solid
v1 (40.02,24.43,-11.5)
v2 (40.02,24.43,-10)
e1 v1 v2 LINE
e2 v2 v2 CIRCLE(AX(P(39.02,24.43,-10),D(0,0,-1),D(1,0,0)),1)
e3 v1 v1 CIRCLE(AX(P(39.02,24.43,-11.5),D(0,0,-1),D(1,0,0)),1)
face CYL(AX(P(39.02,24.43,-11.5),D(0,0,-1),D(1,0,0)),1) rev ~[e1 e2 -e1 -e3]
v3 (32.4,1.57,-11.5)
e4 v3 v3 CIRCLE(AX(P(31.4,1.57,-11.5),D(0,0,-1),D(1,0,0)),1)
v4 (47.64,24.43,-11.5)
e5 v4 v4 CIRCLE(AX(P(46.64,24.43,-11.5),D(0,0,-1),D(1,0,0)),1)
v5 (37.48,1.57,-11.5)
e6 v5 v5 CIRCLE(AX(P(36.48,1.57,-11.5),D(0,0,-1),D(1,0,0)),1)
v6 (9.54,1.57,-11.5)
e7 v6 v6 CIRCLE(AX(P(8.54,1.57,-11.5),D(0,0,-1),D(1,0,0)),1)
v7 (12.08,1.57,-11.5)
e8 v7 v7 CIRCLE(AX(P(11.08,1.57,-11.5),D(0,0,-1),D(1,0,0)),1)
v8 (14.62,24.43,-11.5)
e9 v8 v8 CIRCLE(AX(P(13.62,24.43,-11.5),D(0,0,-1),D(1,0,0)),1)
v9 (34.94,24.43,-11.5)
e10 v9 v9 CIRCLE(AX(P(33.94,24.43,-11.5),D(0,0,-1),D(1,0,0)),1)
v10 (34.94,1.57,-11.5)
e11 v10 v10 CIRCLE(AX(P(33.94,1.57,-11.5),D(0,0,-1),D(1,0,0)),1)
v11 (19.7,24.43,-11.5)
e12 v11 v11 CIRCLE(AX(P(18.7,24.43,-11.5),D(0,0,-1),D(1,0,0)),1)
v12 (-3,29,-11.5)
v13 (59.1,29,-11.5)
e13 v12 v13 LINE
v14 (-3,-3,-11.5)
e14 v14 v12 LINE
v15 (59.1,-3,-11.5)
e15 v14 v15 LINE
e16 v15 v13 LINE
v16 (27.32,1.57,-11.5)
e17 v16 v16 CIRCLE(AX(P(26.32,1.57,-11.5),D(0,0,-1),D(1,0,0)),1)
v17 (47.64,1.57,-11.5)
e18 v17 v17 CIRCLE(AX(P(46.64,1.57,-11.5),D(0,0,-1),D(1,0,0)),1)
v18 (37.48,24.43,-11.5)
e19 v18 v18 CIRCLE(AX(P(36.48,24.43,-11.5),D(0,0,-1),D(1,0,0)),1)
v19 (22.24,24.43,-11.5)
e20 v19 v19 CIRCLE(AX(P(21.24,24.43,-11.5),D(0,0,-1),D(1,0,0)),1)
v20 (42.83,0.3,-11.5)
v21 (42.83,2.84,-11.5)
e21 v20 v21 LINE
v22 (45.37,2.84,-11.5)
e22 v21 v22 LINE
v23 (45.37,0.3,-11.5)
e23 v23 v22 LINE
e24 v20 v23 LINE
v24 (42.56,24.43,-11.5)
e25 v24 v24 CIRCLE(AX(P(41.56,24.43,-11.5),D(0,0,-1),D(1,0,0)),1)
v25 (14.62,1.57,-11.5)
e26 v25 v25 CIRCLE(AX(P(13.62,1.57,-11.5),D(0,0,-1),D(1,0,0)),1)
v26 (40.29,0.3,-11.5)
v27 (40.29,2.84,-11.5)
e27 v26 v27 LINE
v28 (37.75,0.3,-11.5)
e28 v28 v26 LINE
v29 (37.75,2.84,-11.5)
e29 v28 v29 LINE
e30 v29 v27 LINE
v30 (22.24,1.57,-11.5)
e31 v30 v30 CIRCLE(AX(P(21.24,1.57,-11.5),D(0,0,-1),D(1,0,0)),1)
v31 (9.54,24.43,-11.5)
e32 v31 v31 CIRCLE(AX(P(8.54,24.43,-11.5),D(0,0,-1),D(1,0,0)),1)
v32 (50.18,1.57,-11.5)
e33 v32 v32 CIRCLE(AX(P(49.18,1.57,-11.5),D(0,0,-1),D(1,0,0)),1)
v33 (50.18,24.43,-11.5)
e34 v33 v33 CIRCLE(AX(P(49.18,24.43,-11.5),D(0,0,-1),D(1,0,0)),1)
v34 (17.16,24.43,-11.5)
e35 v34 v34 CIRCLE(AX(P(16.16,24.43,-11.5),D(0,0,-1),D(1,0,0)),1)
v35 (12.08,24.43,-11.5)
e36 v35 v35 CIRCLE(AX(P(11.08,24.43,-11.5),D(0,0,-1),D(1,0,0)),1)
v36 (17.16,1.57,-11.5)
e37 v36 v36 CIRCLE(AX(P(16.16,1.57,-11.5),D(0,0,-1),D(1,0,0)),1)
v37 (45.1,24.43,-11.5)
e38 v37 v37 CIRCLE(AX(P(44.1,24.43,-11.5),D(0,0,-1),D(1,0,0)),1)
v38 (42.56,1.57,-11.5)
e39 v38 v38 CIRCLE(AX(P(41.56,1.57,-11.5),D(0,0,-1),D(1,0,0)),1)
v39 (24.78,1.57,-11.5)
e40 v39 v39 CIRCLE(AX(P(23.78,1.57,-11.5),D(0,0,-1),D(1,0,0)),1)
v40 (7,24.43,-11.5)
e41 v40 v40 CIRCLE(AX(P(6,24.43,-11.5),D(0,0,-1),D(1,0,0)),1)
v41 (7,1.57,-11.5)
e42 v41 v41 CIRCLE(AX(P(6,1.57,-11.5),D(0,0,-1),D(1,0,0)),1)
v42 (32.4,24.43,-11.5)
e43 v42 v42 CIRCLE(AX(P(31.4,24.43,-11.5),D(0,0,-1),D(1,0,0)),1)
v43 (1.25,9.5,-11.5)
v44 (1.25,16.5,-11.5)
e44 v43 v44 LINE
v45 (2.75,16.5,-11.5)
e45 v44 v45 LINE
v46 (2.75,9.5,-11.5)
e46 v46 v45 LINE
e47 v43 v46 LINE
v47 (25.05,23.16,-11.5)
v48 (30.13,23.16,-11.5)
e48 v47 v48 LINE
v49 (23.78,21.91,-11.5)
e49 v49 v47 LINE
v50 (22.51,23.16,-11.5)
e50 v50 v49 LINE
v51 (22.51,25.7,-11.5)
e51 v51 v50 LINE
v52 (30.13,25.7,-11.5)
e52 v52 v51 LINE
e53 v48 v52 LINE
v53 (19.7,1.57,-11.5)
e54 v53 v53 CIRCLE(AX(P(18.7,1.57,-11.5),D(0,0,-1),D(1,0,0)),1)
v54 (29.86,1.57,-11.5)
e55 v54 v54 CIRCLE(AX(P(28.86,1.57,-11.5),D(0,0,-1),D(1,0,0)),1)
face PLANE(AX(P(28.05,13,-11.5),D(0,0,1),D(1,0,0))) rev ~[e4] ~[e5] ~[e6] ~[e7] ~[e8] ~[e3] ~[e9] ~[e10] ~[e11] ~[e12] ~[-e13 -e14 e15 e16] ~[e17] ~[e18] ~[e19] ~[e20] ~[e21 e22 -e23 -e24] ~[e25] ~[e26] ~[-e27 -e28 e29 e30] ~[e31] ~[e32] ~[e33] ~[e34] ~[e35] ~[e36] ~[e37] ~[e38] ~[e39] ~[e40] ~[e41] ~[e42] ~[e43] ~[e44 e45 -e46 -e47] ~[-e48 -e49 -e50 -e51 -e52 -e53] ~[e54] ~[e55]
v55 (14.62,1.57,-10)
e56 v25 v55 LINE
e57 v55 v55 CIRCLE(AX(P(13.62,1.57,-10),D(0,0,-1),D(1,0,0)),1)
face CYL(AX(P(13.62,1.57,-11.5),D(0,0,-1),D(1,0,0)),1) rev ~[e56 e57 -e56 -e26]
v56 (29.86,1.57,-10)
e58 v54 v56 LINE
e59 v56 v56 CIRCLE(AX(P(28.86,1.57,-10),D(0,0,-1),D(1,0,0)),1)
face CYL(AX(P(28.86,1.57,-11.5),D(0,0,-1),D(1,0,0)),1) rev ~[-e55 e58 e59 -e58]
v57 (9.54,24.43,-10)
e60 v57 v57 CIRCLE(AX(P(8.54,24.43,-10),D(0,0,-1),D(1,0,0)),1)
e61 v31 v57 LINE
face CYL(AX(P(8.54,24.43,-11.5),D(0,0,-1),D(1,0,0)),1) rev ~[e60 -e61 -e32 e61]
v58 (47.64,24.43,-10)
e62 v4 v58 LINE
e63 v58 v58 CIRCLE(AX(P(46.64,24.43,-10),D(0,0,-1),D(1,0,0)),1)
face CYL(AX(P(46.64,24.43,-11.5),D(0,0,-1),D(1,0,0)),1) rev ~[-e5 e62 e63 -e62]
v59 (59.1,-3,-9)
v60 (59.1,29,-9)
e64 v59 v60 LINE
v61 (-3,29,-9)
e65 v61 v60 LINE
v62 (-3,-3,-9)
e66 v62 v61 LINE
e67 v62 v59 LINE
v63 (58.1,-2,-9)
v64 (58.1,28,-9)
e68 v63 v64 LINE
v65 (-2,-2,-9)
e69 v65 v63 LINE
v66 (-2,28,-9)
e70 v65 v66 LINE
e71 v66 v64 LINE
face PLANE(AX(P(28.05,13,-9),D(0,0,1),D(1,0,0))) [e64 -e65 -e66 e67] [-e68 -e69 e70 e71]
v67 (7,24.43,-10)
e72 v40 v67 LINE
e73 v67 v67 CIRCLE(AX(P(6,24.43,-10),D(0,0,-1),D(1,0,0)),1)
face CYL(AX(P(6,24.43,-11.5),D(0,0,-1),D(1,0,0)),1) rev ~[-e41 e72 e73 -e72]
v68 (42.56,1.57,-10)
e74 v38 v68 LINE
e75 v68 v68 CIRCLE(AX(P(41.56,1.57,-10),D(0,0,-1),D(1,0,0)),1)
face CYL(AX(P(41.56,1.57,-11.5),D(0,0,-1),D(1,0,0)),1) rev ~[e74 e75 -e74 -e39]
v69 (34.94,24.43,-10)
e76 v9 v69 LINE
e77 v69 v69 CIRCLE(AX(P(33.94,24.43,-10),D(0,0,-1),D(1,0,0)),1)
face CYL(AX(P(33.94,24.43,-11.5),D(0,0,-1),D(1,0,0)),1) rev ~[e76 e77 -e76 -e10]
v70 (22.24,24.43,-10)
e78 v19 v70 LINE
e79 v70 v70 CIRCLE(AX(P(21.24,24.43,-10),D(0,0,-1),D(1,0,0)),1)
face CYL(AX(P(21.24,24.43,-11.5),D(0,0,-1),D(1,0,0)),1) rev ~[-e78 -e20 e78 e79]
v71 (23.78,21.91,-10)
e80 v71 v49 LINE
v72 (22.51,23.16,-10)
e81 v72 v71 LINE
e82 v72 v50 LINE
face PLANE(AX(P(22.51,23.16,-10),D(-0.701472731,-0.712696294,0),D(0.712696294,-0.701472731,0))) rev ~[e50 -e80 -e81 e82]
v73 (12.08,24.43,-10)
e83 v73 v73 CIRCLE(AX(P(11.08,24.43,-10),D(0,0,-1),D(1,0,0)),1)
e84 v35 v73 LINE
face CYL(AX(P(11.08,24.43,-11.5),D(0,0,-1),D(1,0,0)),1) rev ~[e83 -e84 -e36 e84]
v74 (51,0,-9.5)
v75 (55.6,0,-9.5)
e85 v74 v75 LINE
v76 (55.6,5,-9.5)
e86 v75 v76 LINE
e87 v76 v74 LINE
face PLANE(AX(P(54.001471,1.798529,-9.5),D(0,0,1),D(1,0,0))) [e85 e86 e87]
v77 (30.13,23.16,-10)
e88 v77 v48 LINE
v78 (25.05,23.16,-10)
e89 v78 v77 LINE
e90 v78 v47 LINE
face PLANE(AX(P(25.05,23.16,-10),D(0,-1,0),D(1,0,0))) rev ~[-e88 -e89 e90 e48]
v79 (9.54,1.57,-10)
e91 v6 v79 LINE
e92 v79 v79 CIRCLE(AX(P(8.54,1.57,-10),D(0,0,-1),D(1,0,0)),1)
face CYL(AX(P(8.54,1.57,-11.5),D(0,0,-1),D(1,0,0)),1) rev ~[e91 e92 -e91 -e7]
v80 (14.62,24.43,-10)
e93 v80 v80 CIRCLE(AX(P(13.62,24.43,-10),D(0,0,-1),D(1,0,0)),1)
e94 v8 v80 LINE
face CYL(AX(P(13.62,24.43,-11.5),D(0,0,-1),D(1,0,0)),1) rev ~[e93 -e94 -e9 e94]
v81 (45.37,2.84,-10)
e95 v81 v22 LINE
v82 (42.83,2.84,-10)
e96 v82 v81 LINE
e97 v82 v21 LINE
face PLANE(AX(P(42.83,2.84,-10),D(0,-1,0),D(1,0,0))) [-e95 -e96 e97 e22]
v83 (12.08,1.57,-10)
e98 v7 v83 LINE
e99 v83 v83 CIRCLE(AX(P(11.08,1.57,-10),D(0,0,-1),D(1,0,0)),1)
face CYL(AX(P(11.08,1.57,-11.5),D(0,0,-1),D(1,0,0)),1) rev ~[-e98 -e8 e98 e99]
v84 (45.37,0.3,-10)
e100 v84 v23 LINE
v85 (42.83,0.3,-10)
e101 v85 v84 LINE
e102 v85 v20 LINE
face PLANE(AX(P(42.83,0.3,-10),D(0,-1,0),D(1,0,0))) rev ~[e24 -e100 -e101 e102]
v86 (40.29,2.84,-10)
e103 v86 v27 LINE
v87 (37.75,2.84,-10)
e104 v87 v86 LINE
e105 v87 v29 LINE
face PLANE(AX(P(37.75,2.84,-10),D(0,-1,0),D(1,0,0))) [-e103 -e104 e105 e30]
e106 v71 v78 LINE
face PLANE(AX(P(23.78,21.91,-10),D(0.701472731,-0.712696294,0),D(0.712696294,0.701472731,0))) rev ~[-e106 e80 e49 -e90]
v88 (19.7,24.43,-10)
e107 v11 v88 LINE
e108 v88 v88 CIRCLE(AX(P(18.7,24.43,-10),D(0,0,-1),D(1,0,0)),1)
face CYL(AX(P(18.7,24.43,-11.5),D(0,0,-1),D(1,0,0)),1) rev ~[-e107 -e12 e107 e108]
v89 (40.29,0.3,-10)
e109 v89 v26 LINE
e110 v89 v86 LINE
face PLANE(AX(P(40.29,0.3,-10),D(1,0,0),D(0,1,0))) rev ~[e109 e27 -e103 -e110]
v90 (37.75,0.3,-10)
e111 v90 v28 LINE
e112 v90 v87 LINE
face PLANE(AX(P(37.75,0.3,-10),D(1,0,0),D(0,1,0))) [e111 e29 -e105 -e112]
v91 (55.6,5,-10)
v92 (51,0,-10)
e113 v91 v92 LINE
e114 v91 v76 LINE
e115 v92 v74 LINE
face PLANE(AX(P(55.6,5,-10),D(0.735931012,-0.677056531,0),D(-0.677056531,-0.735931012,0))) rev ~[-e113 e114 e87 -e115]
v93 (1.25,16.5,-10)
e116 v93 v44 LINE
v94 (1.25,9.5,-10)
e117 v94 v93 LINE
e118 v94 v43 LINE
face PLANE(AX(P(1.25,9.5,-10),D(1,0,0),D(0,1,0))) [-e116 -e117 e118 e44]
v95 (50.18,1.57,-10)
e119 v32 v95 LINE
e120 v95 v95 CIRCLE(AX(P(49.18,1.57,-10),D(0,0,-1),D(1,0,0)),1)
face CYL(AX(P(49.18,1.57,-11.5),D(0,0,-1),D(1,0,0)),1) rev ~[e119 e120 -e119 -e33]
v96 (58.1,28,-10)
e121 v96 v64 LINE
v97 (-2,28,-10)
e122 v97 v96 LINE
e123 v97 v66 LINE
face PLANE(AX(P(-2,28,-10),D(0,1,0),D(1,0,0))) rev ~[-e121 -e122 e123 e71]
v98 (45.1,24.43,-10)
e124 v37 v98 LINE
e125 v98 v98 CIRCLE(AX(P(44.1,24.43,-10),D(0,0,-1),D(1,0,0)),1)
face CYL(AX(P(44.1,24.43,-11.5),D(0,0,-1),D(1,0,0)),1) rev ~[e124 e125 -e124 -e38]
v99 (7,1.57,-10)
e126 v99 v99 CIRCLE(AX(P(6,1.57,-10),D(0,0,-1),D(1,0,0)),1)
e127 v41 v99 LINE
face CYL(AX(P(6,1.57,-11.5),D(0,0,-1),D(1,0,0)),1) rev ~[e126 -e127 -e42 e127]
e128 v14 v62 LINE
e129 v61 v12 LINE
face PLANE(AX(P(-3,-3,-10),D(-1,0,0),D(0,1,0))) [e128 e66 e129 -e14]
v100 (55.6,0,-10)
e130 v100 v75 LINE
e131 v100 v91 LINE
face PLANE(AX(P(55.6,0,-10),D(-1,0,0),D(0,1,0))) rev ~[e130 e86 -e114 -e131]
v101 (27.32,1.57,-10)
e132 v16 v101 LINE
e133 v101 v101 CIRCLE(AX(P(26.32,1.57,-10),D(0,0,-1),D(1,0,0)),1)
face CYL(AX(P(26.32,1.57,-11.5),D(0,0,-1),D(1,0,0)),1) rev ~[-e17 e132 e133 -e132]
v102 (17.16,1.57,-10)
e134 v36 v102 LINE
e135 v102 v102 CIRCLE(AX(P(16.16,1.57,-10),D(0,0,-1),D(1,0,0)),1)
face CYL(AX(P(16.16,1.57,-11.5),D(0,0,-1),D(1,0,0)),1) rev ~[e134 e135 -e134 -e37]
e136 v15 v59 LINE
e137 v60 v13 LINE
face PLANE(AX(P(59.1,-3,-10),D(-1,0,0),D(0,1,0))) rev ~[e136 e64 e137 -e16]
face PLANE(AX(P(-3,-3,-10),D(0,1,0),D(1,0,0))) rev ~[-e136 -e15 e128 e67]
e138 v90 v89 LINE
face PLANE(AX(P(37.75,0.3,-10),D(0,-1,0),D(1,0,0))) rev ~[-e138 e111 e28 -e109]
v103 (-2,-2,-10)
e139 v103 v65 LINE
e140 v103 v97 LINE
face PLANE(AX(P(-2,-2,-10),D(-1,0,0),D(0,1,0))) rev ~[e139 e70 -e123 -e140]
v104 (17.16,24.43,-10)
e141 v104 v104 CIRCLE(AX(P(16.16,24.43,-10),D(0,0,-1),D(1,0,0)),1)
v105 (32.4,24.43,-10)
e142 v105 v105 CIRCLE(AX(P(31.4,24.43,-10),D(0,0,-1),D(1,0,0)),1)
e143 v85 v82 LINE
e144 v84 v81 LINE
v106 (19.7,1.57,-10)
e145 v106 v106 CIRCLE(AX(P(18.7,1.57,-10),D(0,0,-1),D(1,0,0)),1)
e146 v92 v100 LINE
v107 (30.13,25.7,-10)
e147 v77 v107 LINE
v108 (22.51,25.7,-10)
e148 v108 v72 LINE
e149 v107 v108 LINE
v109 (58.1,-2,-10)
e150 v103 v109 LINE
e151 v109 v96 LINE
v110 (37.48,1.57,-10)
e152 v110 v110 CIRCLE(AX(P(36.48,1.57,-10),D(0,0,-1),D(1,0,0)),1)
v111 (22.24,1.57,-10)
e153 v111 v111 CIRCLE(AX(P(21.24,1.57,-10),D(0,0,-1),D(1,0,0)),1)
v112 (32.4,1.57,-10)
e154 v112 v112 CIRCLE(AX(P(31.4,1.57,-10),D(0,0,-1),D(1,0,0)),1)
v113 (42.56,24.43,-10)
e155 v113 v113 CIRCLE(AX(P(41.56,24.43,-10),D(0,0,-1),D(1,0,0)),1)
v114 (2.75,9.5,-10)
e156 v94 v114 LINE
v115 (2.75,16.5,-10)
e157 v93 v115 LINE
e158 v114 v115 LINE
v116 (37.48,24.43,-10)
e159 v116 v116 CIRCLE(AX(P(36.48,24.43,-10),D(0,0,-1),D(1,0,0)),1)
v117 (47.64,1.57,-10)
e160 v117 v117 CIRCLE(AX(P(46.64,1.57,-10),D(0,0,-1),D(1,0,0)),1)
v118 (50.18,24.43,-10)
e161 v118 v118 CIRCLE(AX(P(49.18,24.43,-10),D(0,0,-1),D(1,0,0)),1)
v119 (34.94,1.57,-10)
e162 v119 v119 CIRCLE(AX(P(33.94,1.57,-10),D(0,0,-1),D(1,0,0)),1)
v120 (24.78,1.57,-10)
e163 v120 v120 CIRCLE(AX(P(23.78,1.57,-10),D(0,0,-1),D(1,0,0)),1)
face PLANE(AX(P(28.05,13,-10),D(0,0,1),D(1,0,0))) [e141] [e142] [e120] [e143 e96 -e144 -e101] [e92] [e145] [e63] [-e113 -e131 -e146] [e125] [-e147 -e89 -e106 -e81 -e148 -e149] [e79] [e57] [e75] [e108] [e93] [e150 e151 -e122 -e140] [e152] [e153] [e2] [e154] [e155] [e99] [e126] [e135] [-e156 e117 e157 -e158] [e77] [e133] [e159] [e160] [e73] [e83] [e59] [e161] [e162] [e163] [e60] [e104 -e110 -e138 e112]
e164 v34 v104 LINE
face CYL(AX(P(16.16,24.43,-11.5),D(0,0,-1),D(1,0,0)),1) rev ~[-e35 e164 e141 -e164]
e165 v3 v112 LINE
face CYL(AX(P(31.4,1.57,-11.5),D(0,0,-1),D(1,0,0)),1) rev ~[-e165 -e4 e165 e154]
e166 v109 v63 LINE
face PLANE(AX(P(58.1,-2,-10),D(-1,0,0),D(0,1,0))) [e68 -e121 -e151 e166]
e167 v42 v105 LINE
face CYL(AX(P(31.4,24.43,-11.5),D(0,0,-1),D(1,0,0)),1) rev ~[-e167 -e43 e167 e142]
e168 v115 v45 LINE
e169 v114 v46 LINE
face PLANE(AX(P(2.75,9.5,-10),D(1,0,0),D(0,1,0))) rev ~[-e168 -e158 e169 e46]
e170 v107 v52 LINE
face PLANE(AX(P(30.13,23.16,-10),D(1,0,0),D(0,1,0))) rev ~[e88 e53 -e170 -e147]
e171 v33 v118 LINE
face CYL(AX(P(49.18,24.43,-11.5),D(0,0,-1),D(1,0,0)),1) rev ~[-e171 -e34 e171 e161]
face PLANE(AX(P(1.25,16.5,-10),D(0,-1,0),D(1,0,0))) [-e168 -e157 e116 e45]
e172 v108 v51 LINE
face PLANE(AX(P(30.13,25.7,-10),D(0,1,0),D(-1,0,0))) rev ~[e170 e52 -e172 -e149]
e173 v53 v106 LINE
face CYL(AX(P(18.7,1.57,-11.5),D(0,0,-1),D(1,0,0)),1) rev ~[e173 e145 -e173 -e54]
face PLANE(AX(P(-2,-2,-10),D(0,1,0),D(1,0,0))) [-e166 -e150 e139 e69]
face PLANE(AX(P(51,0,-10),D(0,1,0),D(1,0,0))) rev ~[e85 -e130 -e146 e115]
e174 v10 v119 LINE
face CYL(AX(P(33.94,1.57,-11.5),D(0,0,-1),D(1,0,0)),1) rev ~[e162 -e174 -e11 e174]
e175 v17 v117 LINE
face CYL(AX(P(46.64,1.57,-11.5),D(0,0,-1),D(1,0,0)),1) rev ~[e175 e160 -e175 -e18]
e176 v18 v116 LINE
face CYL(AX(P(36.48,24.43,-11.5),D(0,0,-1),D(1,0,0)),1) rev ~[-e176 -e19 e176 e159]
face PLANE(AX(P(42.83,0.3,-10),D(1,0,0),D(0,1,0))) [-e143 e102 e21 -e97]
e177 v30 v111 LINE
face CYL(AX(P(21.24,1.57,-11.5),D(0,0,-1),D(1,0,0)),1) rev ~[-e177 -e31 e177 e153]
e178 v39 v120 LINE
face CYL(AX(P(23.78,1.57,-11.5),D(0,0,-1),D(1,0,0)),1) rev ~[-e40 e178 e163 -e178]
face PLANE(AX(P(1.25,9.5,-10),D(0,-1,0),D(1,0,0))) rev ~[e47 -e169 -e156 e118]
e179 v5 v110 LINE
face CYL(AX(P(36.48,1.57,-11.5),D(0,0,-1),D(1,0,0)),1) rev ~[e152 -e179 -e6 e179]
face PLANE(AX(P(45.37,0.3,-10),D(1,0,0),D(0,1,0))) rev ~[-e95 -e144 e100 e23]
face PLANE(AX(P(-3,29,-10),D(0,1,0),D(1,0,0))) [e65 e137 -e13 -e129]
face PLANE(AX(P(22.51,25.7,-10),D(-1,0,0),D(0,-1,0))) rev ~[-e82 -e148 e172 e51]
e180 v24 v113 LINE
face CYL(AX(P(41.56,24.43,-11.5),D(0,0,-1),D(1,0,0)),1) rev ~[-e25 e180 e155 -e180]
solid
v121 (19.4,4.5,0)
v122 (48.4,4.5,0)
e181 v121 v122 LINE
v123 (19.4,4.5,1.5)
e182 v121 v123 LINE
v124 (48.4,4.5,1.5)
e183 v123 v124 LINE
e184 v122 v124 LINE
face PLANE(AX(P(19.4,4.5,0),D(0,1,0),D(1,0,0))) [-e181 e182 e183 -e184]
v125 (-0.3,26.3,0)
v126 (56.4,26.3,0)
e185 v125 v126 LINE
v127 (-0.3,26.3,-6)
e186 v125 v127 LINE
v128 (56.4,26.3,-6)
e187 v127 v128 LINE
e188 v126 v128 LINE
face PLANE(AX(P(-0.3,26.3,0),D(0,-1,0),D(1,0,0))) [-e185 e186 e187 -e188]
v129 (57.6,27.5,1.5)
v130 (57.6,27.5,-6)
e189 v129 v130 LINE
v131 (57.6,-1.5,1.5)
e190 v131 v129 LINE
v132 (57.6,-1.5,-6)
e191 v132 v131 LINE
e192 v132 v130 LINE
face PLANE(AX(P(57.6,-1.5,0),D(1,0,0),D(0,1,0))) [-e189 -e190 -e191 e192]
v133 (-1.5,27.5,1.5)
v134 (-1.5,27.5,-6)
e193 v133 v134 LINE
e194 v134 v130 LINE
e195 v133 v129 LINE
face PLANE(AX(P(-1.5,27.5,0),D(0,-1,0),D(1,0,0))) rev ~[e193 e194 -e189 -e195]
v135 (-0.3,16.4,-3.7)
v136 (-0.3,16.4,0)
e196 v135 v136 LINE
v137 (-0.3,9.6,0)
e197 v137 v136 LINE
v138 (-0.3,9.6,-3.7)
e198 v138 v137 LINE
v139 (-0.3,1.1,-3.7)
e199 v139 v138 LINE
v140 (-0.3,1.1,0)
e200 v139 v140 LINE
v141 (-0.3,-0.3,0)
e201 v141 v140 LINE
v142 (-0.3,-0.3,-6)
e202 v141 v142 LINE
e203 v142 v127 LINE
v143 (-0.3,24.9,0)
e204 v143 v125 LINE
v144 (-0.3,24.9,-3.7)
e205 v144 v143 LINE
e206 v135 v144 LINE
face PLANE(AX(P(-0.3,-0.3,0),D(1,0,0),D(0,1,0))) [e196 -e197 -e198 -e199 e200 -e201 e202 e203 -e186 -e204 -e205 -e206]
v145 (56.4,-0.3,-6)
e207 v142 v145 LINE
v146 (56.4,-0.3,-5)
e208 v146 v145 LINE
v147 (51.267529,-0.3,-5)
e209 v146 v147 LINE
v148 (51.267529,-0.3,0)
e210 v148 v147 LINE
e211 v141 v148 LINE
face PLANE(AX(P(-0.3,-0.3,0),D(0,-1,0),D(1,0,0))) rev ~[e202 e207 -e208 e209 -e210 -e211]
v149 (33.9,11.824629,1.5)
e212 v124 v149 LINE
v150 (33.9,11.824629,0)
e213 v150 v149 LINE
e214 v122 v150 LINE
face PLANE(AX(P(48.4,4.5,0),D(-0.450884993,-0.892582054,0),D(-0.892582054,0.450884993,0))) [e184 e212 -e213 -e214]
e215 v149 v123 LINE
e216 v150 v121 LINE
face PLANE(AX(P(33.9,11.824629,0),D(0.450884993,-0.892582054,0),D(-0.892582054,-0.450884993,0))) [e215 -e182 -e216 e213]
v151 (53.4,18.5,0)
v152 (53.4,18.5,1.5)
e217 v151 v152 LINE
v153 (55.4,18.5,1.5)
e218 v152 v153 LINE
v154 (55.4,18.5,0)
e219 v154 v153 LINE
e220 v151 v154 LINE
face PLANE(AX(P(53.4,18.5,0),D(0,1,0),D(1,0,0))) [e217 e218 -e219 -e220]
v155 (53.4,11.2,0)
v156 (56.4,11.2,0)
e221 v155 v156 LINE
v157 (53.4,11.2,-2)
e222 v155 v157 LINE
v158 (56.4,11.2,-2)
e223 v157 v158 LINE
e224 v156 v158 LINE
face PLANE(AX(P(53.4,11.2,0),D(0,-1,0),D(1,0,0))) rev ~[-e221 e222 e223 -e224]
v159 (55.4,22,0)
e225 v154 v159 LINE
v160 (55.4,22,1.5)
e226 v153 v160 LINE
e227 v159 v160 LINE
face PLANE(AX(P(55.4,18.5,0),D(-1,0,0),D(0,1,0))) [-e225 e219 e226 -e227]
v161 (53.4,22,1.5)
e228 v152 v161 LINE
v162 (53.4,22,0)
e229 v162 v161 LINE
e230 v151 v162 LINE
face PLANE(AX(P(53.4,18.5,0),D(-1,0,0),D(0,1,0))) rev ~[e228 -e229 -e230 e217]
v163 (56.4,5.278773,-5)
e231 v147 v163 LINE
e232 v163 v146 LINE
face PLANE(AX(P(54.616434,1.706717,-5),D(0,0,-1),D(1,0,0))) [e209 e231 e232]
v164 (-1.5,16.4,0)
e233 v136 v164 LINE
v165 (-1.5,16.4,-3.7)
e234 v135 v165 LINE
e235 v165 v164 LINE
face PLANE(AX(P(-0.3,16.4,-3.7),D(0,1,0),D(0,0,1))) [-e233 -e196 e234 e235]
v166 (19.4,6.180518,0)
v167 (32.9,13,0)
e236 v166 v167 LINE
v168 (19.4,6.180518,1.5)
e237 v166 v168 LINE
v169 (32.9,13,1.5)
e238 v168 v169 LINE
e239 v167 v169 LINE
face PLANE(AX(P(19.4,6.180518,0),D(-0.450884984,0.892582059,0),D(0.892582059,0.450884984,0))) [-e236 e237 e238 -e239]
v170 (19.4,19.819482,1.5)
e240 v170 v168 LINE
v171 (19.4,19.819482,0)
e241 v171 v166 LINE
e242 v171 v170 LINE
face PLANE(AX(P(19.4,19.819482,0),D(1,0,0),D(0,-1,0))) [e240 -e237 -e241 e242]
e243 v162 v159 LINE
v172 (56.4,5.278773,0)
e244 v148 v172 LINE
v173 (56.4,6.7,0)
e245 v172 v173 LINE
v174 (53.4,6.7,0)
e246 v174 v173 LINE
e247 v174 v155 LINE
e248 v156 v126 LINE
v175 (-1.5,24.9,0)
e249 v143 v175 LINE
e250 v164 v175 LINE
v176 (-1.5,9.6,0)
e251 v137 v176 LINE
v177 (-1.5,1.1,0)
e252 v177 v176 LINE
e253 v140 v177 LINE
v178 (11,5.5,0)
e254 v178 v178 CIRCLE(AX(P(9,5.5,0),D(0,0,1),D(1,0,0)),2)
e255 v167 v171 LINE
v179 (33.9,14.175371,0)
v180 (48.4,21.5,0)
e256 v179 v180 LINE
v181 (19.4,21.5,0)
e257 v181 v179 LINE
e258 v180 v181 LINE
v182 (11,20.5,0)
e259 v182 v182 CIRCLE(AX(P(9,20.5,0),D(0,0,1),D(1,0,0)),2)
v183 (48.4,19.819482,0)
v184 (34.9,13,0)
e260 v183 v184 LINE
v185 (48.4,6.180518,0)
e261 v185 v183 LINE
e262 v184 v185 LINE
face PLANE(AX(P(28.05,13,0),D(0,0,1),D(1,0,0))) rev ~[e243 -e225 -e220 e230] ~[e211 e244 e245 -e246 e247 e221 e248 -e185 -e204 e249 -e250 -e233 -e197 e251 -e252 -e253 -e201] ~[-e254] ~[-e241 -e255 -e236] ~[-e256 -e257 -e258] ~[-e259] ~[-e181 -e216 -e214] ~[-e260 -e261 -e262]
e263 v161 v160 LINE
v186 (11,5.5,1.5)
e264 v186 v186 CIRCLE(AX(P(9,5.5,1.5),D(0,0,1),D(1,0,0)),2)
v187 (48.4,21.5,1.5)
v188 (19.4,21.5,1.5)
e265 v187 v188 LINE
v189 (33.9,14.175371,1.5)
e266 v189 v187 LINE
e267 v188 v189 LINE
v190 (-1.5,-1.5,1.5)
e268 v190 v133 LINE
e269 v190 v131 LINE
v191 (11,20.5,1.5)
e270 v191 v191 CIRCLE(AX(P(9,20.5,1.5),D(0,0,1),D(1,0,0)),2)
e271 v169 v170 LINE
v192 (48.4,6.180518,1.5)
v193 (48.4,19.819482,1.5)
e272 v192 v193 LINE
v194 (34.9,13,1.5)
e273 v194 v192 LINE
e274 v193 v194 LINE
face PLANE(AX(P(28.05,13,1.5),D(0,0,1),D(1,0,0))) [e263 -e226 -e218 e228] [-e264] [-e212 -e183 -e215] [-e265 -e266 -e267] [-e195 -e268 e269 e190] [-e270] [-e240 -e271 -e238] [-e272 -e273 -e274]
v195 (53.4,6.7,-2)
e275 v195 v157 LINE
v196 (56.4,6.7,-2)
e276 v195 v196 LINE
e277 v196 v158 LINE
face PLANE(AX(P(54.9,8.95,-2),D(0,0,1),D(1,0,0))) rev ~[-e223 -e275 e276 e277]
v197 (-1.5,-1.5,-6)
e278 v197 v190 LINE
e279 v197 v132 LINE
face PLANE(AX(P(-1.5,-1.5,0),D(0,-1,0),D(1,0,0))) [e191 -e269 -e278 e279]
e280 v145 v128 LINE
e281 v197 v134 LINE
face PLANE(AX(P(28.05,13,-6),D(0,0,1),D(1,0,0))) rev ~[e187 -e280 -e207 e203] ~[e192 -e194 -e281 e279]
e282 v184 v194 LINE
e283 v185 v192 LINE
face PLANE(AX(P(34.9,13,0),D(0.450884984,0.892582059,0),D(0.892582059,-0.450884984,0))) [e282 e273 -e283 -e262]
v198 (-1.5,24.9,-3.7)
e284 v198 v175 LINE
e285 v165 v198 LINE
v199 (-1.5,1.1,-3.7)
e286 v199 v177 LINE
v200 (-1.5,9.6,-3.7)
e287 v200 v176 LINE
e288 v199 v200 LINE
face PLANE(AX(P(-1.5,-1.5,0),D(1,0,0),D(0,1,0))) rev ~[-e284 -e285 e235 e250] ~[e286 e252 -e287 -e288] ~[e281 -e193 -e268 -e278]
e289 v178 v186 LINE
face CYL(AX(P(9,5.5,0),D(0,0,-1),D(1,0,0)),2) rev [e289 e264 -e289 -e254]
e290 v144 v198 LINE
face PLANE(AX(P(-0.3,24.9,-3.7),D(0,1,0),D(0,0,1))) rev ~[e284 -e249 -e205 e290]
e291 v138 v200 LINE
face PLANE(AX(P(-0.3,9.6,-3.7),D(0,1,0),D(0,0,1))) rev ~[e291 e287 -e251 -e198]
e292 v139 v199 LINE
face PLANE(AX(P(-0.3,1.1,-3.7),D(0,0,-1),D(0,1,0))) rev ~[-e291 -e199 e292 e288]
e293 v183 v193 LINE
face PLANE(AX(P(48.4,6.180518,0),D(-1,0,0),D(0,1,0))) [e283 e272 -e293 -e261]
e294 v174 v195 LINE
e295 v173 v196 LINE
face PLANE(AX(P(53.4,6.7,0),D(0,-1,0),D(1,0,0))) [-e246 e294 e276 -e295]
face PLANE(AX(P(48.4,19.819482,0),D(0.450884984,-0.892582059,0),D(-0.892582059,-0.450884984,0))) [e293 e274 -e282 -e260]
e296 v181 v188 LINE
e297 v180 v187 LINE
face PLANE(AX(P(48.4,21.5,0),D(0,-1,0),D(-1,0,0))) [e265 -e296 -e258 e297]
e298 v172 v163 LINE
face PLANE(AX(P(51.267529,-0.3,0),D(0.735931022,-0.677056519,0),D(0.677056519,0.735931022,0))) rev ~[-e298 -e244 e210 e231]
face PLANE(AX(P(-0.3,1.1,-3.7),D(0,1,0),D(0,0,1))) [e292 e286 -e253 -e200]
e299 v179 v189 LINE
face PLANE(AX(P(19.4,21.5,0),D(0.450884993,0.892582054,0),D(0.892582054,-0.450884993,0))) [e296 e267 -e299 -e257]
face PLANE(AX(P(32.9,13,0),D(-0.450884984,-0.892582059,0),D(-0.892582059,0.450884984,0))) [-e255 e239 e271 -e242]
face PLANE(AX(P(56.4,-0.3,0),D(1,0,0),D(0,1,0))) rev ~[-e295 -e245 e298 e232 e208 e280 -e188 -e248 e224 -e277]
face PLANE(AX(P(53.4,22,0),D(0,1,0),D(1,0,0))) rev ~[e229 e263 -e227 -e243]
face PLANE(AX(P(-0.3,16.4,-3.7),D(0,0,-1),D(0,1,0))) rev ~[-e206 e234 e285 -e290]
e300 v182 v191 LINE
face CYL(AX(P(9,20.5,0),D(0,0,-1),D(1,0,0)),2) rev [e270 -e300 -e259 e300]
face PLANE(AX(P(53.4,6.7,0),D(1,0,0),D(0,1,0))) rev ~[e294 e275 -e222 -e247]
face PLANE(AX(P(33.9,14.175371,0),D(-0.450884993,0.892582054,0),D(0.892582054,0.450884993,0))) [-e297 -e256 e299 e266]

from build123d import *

# Parameters (mm, degrees)
F1_W      = 59.1
F1_H      = 29
F2_DEPTH  = 1.5
F3_W      = 59.1
F3_H      = 29
F3_W_2    = 56.7
F3_H_2    = 26.6
F4_DEPTH  = 6
F6_DEPTH  = 5
F7_W      = 8.5
F7_H      = 3.7
F8_DEPTH  = 1.2
F9_R      = 2
F10_DEPTH = 1.5
F11_W     = 2
F11_H     = 3.5
F12_DEPTH = 1.5
F14_W     = 62.1
F14_H     = 32
F15_DEPTH = 1.5
F16_W     = 62.1
F16_H     = 32
F16_W_2   = 60.1
F16_H_2   = 30
F17_DEPTH = 1
F18_R     = 1
F19_DEPTH = 1.5
F20_W     = 3
F20_H     = 4.5
F21_DEPTH = 2
F23_DEPTH = 0.5
F24_W     = 2.54
F24_H     = 2.54
F25_DEPTH = 1.5
F26_W     = 1.5
F26_H     = 7
F27_DEPTH = 1.5


with BuildPart() as f2:
    # F1 (on Top) → F2 (new body)
    with BuildSketch(Plane.XY):
        with Locations((28.05, 13)):
            Rectangle(F1_W, F1_H)
    extrude(amount=F2_DEPTH)

    # F3 (on face) → F4 (join)
    with BuildSketch(Plane.XY):
        with Locations((28.05, 13)):
            Rectangle(F3_W, F3_H)
        with Locations((28.05, 13)):
            Rectangle(F3_W_2, F3_H_2, mode=Mode.SUBTRACT)
    extrude(amount=-F4_DEPTH)

    # F5 (on face) → F6 (join)
    with BuildSketch(Plane(origin=(0, 0, 0), x_dir=(1, 0, 0), z_dir=(0, 0, -1))):
        Polygon((56.4, -5.278773), (56.4, 0.3), (51.267529, 0.3), align=None)
    extrude(amount=F6_DEPTH)

    # F7 (on face) → F8 (cut, through all)
    with BuildSketch(Plane.YZ.offset(-0.3)):
        with Locations((5.35, -1.85)):
            Rectangle(F7_W, F7_H)
        with Locations((20.65, -1.85)):
            Rectangle(F7_W, F7_H)
    extrude(amount=-F8_DEPTH, mode=Mode.SUBTRACT)

    # F9 (on face) → F10 (cut, through all)
    with BuildSketch(Plane.XY):
        with Locations((9, 5.5)):
            Circle(F9_R)
        with Locations((9, 20.5)):
            Circle(F9_R)
    extrude(amount=F10_DEPTH, mode=Mode.SUBTRACT)

    # F11 (on face) → F12 (cut, through all)
    with BuildSketch(Plane.XY):
        Polygon((33.9, 11.824629), (19.4, 4.5), (48.4, 4.5), align=None)
        Polygon((19.4, 19.819482), (19.4, 6.180518), (32.9, 13), align=None)
        Polygon((48.4, 21.5), (19.4, 21.5), (33.9, 14.175371), align=None)
        Polygon((34.9, 13), (48.4, 6.180518), (48.4, 19.819482), align=None)
        with Locations((54.4, 20.25)):
            Rectangle(F11_W, F11_H)
    extrude(amount=F12_DEPTH, mode=Mode.SUBTRACT)

    # F20 (on face) → F21 (join)
    with BuildSketch(Plane.XY):
        with Locations((54.9, 8.95)):
            Rectangle(F20_W, F20_H)
    extrude(amount=-F21_DEPTH)


with BuildPart() as f15:
    # F14 (on offset) → F15 (new body)
    with BuildSketch(Plane.XY.offset(-10)):
        with Locations((28.05, 13)):
            Rectangle(F14_W, F14_H)
    extrude(amount=-F15_DEPTH)

    # F16 (on face) → F17 (join)
    with BuildSketch(Plane.XY.offset(-10)):
        with Locations((28.05, 13)):
            Rectangle(F16_W, F16_H)
        with Locations((28.05, 13)):
            Rectangle(F16_W_2, F16_H_2, mode=Mode.SUBTRACT)
    extrude(amount=F17_DEPTH)

    # F18 (on face) → F19 (cut, through all)
    with BuildSketch(Plane(origin=(0, 0, -11.5), x_dir=(1, 0, 0), z_dir=(0, 0, -1))):
        with Locations((6, -24.43)):
            Circle(F18_R)
        with Locations((6, -1.57)):
            Circle(F18_R)
        with Locations((8.54, -24.43)):
            Circle(F18_R)
        with Locations((8.54, -1.57)):
            Circle(F18_R)
        with Locations((11.08, -24.43)):
            Circle(F18_R)
        with Locations((11.08, -1.57)):
            Circle(F18_R)
        with Locations((13.62, -24.43)):
            Circle(F18_R)
        with Locations((13.62, -1.57)):
            Circle(F18_R)
        with Locations((16.16, -24.43)):
            Circle(F18_R)
        with Locations((16.16, -1.57)):
            Circle(F18_R)
        with Locations((18.7, -24.43)):
            Circle(F18_R)
        with Locations((18.7, -1.57)):
            Circle(F18_R)
        with Locations((21.24, -24.43)):
            Circle(F18_R)
        with Locations((21.24, -1.57)):
            Circle(F18_R)
        with Locations((23.78, -24.43)):
            Circle(F18_R)
        with Locations((23.78, -1.57)):
            Circle(F18_R)
        with Locations((26.32, -24.43)):
            Circle(F18_R)
        with Locations((26.32, -1.57)):
            Circle(F18_R)
        with Locations((28.86, -24.43)):
            Circle(F18_R)
        with Locations((28.86, -1.57)):
            Circle(F18_R)
        with Locations((31.4, -24.43)):
            Circle(F18_R)
        with Locations((31.4, -1.57)):
            Circle(F18_R)
        with Locations((33.94, -24.43)):
            Circle(F18_R)
        with Locations((33.94, -1.57)):
            Circle(F18_R)
        with Locations((36.48, -24.43)):
            Circle(F18_R)
        with Locations((36.48, -1.57)):
            Circle(F18_R)
        with Locations((39.02, -24.43)):
            Circle(F18_R)
        with Locations((39.02, -1.57)):
            Circle(F18_R)
        with Locations((41.56, -24.43)):
            Circle(F18_R)
        with Locations((41.56, -1.57)):
            Circle(F18_R)
        with Locations((44.1, -24.43)):
            Circle(F18_R)
        with Locations((44.1, -1.57)):
            Circle(F18_R)
        with Locations((46.64, -24.43)):
            Circle(F18_R)
        with Locations((46.64, -1.57)):
            Circle(F18_R)
        with Locations((49.18, -24.43)):
            Circle(F18_R)
        with Locations((49.18, -1.57)):
            Circle(F18_R)
    extrude(amount=-F19_DEPTH, mode=Mode.SUBTRACT)

    # F22 (on face) → F23 (join)
    with BuildSketch(Plane.XY.offset(-10)):
        Polygon((55.6, 5), (51, 0), (55.6, 0), align=None)
    extrude(amount=F23_DEPTH)

    # F24 (on face) → F25 (cut, through all)
    with BuildSketch(Plane.XY.offset(-10)):
        with Locations((44.1, 1.57)):
            Rectangle(F24_W, F24_H)
        with Locations((39.02, 1.57)):
            Rectangle(F24_W, F24_H)
        with Locations((28.86, 24.43)):
            Rectangle(F24_W, F24_H)
        with Locations((26.32, 24.43)):
            Rectangle(F24_W, F24_H)
        Polygon((25.05, 23.16), (25.05, 25.7), (22.51, 25.7), (22.51, 23.16), (23.78, 21.91), align=None)
    extrude(amount=-F25_DEPTH, mode=Mode.SUBTRACT)

    # F26 (on face) → F27 (cut, through all)
    with BuildSketch(Plane.XY.offset(-10)):
        with Locations((2, 13)):
            Rectangle(F26_W, F26_H)
    extrude(amount=-F27_DEPTH, mode=Mode.SUBTRACT)


solid = Compound([f2.part, f15.part])
